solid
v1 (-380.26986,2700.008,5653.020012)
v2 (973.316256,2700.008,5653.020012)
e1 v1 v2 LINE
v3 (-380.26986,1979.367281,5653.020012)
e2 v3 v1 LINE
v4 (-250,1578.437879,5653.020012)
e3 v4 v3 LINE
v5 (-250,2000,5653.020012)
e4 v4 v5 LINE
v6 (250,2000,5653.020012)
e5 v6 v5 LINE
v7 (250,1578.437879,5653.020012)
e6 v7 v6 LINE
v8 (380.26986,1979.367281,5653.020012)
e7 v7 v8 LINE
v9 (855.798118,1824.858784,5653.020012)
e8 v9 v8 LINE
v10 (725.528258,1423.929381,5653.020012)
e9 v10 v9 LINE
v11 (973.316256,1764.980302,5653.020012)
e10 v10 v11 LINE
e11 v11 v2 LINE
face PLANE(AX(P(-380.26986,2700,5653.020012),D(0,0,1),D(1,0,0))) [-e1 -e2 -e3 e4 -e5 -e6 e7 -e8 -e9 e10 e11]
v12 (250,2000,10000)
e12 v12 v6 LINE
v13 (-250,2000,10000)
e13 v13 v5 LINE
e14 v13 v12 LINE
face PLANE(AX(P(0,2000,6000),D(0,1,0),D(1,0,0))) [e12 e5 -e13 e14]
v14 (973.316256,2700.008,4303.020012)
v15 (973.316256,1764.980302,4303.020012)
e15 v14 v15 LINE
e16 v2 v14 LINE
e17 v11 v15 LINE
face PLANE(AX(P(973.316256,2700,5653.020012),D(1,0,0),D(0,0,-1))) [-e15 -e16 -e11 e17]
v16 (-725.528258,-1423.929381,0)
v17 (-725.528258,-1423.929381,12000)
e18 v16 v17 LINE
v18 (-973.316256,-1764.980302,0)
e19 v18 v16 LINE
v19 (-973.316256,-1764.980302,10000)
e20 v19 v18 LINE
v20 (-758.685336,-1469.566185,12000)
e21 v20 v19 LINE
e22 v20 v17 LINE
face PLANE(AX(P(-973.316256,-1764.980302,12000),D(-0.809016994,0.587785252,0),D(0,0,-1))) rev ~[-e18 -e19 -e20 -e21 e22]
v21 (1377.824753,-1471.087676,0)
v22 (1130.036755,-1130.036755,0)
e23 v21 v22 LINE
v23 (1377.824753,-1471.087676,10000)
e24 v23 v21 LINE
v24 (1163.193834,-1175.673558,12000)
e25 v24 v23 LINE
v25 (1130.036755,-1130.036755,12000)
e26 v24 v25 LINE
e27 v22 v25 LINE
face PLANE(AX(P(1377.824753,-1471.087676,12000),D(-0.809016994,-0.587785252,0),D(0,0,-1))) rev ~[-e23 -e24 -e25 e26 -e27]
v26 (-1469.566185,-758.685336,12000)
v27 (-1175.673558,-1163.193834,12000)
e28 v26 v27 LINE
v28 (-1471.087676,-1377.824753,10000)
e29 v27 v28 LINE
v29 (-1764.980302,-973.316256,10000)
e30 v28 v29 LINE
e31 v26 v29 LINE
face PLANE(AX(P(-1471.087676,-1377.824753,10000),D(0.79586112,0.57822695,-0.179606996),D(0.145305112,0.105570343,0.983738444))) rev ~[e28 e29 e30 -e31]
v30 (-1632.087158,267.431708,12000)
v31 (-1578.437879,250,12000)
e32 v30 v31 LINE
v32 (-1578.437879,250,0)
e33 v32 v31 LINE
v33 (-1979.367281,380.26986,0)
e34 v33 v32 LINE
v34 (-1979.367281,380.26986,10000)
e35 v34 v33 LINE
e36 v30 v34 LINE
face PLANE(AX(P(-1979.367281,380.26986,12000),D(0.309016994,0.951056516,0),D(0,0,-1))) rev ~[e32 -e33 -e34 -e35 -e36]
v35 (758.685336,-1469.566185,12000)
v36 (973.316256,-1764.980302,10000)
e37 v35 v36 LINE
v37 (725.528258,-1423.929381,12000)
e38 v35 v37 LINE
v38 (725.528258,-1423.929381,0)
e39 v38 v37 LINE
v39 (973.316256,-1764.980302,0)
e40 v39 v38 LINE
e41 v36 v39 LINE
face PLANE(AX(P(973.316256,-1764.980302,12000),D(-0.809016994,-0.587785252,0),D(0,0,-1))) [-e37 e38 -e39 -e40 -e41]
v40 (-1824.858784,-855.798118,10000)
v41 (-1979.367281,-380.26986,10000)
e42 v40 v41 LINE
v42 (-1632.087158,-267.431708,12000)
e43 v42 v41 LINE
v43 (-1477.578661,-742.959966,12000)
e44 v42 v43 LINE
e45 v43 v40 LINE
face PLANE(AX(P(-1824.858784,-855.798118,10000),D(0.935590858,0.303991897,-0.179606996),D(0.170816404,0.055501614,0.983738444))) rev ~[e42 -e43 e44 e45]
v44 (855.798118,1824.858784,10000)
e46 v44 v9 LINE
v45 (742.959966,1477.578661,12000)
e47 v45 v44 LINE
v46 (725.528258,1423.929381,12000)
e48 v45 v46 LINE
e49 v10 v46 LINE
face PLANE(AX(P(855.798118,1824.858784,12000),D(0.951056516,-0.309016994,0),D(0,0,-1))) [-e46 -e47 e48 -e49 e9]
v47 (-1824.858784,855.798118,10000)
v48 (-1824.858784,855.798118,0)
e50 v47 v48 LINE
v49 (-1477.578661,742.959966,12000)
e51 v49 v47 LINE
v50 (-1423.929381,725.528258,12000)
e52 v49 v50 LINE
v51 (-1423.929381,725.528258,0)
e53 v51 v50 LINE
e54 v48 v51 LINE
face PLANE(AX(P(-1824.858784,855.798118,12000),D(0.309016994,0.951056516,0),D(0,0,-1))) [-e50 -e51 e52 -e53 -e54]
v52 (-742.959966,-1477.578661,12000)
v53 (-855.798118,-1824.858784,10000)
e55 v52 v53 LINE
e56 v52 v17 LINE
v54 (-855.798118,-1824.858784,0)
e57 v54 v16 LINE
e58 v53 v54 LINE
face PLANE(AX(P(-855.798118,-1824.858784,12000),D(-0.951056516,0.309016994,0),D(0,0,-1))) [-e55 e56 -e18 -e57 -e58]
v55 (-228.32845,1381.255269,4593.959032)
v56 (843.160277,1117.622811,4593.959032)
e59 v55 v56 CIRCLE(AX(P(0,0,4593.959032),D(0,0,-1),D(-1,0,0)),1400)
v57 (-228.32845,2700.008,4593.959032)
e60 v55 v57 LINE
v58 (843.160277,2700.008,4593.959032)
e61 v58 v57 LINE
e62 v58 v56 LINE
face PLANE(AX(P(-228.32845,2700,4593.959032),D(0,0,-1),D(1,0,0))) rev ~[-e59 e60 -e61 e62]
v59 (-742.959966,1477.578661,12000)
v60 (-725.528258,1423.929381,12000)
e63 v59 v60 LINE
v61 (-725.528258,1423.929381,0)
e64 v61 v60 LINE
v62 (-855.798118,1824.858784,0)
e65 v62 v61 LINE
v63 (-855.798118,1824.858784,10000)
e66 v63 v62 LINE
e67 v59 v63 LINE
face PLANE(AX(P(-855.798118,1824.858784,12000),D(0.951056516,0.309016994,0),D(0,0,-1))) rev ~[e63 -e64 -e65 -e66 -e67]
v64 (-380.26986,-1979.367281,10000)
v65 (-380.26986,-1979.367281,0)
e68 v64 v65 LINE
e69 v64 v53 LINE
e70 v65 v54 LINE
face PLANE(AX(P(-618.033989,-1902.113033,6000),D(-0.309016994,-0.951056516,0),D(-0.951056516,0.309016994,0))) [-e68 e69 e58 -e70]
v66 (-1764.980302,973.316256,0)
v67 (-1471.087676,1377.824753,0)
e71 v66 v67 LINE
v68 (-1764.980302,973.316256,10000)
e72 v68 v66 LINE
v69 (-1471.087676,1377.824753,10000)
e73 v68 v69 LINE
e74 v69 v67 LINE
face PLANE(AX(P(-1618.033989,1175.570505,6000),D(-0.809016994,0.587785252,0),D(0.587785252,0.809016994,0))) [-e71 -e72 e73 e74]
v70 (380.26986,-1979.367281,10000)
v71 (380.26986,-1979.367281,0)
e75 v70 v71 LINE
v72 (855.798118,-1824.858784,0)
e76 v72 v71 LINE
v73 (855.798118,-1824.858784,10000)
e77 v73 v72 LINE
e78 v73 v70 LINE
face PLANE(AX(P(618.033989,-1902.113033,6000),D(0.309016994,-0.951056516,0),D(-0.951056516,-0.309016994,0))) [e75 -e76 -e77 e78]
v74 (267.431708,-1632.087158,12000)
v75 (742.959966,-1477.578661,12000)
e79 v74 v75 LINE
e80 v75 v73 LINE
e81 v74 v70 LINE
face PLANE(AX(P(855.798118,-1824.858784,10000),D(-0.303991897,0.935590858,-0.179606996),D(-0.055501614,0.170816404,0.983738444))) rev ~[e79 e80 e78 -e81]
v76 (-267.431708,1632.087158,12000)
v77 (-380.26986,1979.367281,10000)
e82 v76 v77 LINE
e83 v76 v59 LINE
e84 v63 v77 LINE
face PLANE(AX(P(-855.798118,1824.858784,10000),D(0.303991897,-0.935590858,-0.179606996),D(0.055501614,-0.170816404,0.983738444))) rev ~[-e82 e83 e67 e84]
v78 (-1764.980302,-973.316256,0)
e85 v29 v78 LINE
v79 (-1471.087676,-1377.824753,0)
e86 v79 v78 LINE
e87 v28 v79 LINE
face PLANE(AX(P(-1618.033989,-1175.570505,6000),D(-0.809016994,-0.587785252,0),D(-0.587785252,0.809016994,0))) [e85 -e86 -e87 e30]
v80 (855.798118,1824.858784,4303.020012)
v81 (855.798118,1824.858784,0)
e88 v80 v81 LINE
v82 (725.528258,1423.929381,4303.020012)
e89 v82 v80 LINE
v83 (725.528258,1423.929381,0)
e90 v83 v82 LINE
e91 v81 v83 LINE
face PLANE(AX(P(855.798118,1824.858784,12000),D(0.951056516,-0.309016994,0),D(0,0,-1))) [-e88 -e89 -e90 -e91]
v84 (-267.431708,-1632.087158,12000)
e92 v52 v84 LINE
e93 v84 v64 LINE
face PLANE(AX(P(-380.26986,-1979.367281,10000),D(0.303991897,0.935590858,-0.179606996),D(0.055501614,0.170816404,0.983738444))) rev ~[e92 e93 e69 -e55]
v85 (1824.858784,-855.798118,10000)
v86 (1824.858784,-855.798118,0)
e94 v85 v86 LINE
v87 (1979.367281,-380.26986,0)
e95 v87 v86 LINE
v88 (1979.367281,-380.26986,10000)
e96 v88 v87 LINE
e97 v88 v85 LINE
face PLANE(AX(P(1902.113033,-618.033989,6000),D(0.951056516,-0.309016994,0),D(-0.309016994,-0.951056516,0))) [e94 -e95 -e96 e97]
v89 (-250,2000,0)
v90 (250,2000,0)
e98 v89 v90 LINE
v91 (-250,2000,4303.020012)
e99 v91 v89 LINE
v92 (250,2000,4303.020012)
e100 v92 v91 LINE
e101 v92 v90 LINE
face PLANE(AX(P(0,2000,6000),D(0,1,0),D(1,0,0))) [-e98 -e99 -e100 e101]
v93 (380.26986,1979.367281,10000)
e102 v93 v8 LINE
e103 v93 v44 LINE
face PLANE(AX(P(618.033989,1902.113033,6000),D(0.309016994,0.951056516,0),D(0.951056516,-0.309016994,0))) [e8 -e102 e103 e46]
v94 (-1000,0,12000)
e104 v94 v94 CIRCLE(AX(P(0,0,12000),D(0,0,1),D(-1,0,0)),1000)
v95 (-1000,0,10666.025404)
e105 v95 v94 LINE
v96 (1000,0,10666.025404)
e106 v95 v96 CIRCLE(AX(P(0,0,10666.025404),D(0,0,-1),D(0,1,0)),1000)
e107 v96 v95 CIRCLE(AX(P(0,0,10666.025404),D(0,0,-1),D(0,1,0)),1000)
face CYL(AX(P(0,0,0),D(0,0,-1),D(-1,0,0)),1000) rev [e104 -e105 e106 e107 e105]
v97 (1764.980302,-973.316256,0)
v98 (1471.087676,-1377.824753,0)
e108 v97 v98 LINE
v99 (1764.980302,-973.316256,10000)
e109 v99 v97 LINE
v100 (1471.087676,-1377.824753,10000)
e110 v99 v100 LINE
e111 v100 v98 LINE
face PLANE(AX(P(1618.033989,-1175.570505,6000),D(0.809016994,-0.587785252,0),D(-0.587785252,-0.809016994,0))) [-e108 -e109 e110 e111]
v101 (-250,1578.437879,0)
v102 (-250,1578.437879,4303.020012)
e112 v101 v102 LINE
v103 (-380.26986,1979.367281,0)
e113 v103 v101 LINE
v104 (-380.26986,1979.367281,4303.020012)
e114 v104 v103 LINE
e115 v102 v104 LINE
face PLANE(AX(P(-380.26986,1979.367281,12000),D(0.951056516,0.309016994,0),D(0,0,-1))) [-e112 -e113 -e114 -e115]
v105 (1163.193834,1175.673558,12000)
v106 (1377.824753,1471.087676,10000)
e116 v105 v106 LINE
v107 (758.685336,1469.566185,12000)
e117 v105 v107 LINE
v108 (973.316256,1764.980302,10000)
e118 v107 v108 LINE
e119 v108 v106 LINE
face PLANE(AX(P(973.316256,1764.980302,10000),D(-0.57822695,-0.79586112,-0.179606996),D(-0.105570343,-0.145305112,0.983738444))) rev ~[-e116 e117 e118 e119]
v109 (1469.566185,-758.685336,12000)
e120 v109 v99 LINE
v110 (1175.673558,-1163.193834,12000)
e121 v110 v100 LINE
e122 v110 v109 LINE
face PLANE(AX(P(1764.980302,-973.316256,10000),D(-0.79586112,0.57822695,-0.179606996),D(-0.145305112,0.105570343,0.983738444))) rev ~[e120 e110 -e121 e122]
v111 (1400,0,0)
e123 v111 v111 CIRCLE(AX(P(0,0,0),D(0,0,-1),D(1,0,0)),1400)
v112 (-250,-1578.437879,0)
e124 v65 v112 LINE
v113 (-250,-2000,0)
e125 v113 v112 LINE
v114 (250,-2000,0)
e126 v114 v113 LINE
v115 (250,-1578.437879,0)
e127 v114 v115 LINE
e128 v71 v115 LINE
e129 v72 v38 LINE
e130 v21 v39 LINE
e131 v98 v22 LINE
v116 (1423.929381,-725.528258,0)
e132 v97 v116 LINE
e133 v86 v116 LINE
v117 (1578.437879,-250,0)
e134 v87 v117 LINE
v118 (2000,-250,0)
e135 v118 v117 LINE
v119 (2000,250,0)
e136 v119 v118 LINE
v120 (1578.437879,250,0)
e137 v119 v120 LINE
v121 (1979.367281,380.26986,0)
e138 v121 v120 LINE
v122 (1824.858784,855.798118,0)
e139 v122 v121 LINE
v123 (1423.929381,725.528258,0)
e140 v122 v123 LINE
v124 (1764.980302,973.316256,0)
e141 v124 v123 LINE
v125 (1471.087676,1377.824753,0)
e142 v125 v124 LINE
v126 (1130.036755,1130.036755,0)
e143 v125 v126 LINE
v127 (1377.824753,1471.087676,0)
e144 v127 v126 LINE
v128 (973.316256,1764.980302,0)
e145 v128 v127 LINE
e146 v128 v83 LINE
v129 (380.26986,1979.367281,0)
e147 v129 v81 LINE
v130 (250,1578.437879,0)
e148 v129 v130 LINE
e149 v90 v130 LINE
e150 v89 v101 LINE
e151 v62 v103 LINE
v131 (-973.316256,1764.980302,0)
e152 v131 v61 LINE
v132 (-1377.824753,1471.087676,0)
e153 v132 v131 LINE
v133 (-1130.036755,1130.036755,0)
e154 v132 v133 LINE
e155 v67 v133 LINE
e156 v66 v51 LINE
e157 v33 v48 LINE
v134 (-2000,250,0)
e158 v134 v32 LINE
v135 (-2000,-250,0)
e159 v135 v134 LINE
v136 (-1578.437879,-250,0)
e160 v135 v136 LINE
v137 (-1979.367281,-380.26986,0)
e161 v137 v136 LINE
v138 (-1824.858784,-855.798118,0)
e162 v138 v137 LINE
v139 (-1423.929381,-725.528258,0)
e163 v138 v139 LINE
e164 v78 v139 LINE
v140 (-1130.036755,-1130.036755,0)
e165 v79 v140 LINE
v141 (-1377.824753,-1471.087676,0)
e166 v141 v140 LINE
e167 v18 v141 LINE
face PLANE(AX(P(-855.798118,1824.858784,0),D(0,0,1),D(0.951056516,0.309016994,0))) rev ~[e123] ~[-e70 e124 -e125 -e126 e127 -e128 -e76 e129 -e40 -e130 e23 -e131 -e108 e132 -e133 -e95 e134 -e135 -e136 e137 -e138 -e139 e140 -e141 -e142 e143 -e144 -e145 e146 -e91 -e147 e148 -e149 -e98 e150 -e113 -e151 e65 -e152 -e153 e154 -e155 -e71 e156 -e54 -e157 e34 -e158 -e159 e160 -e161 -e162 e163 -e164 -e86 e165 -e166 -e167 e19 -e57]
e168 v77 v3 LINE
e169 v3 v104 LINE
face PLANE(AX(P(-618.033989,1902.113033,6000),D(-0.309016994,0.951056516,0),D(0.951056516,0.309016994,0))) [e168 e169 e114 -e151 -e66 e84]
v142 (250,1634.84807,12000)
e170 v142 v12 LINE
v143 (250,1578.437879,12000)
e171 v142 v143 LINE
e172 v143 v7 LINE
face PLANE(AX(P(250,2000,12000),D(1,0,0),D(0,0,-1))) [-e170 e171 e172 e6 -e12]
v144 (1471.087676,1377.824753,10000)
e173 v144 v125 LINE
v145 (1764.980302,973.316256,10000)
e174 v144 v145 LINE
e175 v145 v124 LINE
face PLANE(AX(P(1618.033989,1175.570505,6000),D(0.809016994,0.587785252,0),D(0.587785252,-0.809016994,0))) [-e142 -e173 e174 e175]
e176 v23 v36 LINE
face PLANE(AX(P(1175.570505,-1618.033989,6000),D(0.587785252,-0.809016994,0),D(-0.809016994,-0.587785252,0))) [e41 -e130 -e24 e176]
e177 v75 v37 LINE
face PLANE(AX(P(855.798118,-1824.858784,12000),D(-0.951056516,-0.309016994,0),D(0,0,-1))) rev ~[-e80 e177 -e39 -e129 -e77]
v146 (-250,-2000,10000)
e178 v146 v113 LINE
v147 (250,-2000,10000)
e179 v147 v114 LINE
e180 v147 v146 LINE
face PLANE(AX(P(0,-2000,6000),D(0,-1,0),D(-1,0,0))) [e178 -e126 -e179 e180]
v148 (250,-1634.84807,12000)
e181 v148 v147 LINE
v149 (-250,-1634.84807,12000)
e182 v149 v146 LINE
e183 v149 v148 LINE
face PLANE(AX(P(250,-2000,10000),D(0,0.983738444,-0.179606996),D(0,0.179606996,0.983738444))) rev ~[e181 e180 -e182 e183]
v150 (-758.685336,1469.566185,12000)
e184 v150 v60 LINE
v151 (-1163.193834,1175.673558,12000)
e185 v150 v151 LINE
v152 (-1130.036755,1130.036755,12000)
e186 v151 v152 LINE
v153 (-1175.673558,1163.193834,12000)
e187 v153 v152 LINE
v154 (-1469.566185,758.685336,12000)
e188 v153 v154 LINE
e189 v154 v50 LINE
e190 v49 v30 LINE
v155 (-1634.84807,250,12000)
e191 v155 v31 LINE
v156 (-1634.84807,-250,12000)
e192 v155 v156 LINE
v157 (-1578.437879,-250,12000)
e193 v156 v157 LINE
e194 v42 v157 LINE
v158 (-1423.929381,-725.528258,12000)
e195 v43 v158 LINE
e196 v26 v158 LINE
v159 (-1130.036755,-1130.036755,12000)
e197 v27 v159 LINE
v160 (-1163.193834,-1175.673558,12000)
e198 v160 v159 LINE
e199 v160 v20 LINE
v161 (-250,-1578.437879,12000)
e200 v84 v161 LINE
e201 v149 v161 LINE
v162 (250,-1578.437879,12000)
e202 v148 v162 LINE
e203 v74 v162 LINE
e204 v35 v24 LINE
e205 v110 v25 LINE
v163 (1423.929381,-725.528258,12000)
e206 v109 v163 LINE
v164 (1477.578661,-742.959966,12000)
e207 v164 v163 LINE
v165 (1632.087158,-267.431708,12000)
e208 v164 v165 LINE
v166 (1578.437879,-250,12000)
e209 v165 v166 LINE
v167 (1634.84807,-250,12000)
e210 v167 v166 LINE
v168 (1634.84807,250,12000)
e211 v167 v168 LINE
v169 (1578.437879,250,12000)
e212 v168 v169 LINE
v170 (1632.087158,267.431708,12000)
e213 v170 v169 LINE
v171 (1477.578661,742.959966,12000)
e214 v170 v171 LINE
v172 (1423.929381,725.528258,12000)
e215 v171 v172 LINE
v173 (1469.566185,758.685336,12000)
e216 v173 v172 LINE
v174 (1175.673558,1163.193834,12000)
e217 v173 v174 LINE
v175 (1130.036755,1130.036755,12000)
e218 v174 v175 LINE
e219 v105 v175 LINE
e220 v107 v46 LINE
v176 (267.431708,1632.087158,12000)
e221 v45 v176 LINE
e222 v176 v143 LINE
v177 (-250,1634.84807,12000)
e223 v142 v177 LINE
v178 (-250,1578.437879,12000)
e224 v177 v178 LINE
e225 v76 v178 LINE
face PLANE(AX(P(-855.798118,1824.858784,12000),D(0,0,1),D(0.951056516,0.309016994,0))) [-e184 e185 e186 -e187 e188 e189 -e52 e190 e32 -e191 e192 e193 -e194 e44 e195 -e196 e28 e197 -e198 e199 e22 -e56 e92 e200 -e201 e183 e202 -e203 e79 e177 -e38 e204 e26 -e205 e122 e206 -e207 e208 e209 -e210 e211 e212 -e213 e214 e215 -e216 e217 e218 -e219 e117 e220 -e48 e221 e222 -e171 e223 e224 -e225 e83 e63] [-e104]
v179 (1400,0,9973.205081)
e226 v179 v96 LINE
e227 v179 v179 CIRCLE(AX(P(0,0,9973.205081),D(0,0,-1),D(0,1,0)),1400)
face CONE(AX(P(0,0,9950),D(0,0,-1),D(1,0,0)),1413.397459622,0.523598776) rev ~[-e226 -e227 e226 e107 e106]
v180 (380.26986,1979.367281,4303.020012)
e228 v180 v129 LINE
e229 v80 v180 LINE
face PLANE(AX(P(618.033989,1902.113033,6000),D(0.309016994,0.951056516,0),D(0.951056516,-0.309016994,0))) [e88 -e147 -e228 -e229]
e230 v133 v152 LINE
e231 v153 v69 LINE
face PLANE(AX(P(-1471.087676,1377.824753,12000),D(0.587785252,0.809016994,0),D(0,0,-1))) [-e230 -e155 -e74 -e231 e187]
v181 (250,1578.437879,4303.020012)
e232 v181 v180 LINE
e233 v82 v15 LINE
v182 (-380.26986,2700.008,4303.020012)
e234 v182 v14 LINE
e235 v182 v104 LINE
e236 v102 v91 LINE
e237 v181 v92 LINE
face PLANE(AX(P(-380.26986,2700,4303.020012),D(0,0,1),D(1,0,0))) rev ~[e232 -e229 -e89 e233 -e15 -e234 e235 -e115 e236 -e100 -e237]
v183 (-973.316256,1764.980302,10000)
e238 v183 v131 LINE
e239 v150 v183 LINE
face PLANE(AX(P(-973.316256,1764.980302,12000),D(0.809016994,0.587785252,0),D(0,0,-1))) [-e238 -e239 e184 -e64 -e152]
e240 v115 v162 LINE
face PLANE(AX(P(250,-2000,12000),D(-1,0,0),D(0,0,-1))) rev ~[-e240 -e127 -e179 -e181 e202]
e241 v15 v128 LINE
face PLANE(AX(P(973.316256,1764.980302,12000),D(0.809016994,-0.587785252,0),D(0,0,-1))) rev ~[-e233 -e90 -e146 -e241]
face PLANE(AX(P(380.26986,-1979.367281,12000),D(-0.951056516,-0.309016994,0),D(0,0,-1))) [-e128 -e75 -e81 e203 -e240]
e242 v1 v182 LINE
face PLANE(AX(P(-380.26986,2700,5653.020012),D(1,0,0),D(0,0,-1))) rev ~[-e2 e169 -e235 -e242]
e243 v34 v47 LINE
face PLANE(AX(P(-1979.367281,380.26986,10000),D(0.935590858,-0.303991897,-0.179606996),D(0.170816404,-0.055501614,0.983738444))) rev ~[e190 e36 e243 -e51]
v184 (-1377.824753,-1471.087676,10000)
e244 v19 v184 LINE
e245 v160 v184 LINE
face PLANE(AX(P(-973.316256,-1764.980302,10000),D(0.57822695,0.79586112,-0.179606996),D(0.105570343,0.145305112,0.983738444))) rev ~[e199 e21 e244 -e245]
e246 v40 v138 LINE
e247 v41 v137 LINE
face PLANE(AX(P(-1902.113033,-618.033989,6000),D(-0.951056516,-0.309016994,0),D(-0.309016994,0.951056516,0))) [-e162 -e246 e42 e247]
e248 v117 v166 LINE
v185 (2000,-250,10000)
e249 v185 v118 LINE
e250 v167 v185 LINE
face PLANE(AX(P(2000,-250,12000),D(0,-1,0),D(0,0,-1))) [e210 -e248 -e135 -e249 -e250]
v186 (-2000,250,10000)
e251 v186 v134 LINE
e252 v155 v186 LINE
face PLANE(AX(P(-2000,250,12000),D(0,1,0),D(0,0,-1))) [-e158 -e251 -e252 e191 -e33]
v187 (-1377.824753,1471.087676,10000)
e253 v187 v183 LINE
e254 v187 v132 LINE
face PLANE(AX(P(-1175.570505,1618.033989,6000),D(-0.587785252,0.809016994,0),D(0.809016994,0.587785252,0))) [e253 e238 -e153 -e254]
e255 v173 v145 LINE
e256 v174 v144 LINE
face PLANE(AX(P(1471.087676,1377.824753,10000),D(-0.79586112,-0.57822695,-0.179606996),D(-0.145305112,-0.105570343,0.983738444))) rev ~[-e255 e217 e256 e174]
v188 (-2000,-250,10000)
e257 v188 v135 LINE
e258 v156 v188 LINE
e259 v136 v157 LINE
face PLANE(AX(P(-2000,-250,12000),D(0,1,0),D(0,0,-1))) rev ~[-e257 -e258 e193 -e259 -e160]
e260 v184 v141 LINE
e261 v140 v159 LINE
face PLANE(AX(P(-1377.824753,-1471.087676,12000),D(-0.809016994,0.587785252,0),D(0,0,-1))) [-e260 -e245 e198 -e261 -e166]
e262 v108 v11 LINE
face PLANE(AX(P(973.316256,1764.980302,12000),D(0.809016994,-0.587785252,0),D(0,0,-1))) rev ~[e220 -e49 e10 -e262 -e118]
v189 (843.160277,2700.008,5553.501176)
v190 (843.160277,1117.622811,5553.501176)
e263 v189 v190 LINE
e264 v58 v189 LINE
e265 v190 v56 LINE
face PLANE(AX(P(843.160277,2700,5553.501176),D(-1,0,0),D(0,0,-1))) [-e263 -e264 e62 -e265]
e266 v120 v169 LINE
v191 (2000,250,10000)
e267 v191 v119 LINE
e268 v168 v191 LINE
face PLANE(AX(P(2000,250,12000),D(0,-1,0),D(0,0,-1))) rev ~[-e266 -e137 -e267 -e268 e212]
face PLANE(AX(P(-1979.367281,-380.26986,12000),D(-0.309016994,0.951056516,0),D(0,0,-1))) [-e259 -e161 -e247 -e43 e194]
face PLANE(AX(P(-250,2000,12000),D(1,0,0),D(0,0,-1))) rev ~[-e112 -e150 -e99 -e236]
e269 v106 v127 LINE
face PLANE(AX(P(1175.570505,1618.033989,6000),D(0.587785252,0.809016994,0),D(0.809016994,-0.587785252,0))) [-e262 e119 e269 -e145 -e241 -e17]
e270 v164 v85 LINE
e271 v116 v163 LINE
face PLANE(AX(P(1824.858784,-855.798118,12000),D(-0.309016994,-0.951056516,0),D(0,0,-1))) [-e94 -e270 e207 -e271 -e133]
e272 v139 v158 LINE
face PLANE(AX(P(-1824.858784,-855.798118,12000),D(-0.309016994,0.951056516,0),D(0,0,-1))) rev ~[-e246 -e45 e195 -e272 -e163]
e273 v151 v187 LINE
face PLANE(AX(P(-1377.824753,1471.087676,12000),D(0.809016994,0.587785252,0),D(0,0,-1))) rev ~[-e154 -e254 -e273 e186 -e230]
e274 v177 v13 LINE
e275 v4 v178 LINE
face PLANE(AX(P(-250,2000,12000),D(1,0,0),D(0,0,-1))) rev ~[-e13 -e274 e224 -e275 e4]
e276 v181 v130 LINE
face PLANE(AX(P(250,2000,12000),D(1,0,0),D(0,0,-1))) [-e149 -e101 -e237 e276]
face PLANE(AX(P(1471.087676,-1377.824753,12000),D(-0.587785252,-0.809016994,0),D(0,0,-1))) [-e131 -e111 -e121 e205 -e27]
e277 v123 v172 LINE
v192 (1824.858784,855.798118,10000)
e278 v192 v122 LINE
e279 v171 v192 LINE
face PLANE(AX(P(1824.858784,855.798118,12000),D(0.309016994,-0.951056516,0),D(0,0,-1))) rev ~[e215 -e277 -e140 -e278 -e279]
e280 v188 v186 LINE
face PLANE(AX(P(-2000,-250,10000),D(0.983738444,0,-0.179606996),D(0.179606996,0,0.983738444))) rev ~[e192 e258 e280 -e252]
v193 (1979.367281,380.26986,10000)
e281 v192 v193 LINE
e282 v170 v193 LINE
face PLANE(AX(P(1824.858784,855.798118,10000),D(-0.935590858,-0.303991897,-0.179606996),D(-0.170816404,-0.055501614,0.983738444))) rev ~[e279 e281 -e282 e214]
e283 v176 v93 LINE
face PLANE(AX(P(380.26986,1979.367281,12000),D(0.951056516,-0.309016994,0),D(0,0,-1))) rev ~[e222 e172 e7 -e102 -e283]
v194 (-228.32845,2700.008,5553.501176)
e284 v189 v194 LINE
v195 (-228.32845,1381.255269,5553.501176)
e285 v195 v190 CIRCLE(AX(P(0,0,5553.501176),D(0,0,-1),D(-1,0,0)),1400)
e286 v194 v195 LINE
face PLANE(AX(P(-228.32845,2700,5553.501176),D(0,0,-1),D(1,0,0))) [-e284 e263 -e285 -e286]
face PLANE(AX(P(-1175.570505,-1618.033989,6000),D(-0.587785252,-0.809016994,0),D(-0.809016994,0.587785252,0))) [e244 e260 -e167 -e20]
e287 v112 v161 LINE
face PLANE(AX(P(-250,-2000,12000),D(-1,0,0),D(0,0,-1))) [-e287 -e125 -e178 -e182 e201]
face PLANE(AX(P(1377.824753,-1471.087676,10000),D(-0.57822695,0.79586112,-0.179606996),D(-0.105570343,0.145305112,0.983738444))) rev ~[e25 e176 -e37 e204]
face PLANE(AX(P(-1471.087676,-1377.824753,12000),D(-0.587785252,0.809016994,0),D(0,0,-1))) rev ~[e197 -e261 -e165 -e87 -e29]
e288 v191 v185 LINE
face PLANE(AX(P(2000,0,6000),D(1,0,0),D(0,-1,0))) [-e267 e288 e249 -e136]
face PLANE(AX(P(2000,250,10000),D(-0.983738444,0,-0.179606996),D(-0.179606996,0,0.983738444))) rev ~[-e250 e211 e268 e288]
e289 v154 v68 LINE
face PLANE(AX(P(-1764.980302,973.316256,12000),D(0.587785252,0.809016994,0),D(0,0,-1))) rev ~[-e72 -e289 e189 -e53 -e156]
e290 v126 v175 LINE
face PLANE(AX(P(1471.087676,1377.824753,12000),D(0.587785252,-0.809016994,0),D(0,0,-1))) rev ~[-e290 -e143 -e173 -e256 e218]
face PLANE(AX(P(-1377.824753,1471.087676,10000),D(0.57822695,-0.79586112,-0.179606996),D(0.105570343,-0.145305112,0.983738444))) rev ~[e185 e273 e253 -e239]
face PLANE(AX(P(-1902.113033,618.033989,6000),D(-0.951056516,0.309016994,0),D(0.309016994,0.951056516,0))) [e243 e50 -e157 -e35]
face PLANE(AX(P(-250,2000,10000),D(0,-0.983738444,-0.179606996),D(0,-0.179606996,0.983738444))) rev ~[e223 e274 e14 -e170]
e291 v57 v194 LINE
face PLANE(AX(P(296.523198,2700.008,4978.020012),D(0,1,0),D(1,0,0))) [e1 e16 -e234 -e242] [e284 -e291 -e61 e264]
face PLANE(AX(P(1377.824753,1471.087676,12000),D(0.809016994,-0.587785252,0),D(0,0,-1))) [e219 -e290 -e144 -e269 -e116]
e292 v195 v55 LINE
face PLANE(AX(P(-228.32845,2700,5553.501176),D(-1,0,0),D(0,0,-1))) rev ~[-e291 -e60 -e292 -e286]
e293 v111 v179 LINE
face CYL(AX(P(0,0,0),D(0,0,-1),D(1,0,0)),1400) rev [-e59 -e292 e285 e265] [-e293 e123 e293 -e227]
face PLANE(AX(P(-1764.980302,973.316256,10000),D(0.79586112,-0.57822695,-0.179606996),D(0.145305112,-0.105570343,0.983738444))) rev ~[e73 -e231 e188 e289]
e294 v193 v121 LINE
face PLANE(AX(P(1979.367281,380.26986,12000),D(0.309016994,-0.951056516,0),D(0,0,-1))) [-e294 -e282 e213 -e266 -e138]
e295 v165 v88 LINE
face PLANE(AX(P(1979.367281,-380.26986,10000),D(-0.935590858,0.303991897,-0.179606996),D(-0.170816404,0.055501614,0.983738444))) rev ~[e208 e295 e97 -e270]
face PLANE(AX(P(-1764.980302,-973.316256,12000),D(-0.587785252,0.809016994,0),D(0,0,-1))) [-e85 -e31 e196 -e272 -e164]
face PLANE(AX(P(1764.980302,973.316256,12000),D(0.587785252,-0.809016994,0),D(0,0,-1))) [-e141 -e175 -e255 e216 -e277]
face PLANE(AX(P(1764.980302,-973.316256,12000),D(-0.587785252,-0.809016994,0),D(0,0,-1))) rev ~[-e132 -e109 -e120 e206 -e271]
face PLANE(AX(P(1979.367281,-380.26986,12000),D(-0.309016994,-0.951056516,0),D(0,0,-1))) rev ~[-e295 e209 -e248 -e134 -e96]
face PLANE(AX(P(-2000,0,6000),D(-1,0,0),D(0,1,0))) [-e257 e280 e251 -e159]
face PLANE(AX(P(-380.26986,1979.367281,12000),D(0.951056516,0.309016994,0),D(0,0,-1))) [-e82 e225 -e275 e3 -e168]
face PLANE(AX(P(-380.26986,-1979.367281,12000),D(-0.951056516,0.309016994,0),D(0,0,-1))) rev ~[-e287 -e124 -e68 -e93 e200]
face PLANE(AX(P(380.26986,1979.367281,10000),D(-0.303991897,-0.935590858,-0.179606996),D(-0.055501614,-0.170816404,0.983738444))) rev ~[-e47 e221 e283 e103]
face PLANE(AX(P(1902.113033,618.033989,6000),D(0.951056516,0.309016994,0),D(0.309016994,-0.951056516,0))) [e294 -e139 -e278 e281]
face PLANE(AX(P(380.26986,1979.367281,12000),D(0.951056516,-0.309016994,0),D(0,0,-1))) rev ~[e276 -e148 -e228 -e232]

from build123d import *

# Parameters (mm, degrees)
SKETCH1_R                       = 1500
BOSS_EXTRUDE1_DEPTH             = 12000
CHAMFER1_SIZE                   = 2000
CHAMFER1_SIZE2                  = 1154.700538379
SHELL1_T                        = -100
BOSS_EXTRUDE4_REACH             = 12591.678
SKETCH4_W                       = 500
SKETCH4_H                       = 12000
CUT_EXTRUDE1_DEPTH              = 12291.748553282
CIRPATTERN2_COUNT               = 20
SKETCH12_R                      = 1000
CUT_EXTRUDE3_DEPTH              = 12000
SKETCH14_W                      = 1353.586115667
SKETCH14_H                      = 1350
BOSS_EXTRUDE5_DEPTH             = 0.008
BOSS_EXTRUDE5_DIRECTION_2_REACH = 13043.856
CUT_EXTRUDE5_REACH              = 13043.856
CUT_EXTRUDE5_END_RADIUS         = 1400
SKETCH16_W                      = 1071.488727216
SKETCH16_H                      = 959.542143775
CUT_EXTRUDE5_DIRECTION_2_DEPTH  = 13042.855696181


with BuildPart() as part:
    # Sketch1 → Boss-Extrude1 (new body)
    with BuildSketch(Plane.XY):
        Circle(SKETCH1_R)
    extrude(amount=BOSS_EXTRUDE1_DEPTH)

    # Chamfer1
    chamfer1_edges = [part.edges().sort_by_distance(p)[0] for p in [
        (-1500, 0, 12000),
    ]]
    chamfer1_side = [part.faces().sort_by_distance(p)[0] for p in [
        (-1500, 0, 6000),
    ]]
    chamfer(chamfer1_edges, length=CHAMFER1_SIZE, length2=CHAMFER1_SIZE2, reference=chamfer1_side[0])

    # Shell1
    shell1_openings = [part.faces().sort_by_distance(p)[0] for p in [
        (0, 0, 0),
    ]]
    offset(amount=SHELL1_T, openings=shell1_openings, kind=Kind.INTERSECTION)

    # Sketch4 → Boss-Extrude4 (add, up to next)
    with BuildSketch(Plane(origin=(0, 2000, 0), x_dir=(1, 0, 0), z_dir=(0, 1, 0)), mode=Mode.PRIVATE) as boss_extrude4_sk1:
        with Locations((0, -6000)):
            Rectangle(SKETCH4_W, SKETCH4_H)
    boss_extrude4_tool1 = extrude(boss_extrude4_sk1.sketch, amount=-BOSS_EXTRUDE4_REACH, mode=Mode.PRIVATE) - part.part
    boss_extrude4 = boss_extrude4_tool1.solids().sort_by_distance((0, 2000, 6000))[0]
    add(boss_extrude4)

    # Sketch6 → Cut-Extrude1 (cut, symmetric)
    with BuildSketch(Plane.ZY.offset(250)):
        Polygon((10000, 2000), (12000, 1634.848069607), (12000, 2000), align=None)
    cut_extrude1 = extrude(amount=CUT_EXTRUDE1_DEPTH, both=True, mode=Mode.SUBTRACT)

    # CirPattern2: Boss-Extrude4, Cut-Extrude1 ×20 about axis
    cirpattern2_axis = Axis((0, 0, 0), (0, 0, 1))
    add([boss_extrude4.rotate(cirpattern2_axis, i * 360 / CIRPATTERN2_COUNT) for i in range(1, CIRPATTERN2_COUNT)])
    add([cut_extrude1.rotate(cirpattern2_axis, i * 360 / CIRPATTERN2_COUNT) for i in range(1, CIRPATTERN2_COUNT)], mode=Mode.SUBTRACT)

    # Sketch12 → Cut-Extrude3 (cut)
    with BuildSketch(Plane.XY):
        with Locations(Location((0, 0, 0), (0, 0, 180))):
            Circle(SKETCH12_R)
    extrude(amount=CUT_EXTRUDE3_DEPTH, mode=Mode.SUBTRACT)

    # Sketch14 → Boss-Extrude5 (add)
    with BuildSketch(Plane(origin=(0, 2700, 0), x_dir=(1, 0, 0), z_dir=(0, 1, 0))):
        with Locations((296.523198158, -4978.020012277)):
            Rectangle(SKETCH14_W, SKETCH14_H)
    extrude(amount=BOSS_EXTRUDE5_DEPTH)

    # Sketch14 → Boss-Extrude5 direction 2 (add, up to next)
    with BuildSketch(Plane(origin=(0, 2700, 0), x_dir=(1, 0, 0), z_dir=(0, 1, 0)), mode=Mode.PRIVATE) as boss_extrude5_direction_2_sk1:
        with Locations((296.523198158, -4978.020012277)):
            Rectangle(SKETCH14_W, SKETCH14_H)
    boss_extrude5_direction_2_tool1 = extrude(boss_extrude5_direction_2_sk1.sketch, amount=-BOSS_EXTRUDE5_DIRECTION_2_REACH, mode=Mode.PRIVATE) - part.part
    add(boss_extrude5_direction_2_tool1.solids().sort_by_distance((296.523198, 2700, 4978.020012))[0])

    # Cut-Extrude5: up to this cylinder (the profile starts outside it)
    cut_extrude5_end = Plane(origin=(0, 0, 5073.730104), z_dir=(0, 0, -1)) * Cylinder(CUT_EXTRUDE5_END_RADIUS, 28888.712, mode=Mode.PRIVATE)
    # Sketch16 → Cut-Extrude5 (cut, up to the surface)
    with BuildSketch(Plane(origin=(0, 2700, 0), x_dir=(1, 0, 0), z_dir=(0, 1, 0)), mode=Mode.PRIVATE) as cut_extrude5_sk1:
        with Locations((307.415913762, -5073.730104283)):
            Rectangle(SKETCH16_W, SKETCH16_H)
    cut_extrude5_tool1 = extrude(cut_extrude5_sk1.sketch, amount=-CUT_EXTRUDE5_REACH, mode=Mode.PRIVATE) - cut_extrude5_end
    add(cut_extrude5_tool1.solids().sort_by_distance((307.415914, 2700, 5073.730104))[0], mode=Mode.SUBTRACT)

    # Sketch16 → Cut-Extrude5 direction 2 (cut)
    with BuildSketch(Plane(origin=(0, 2700, 0), x_dir=(1, 0, 0), z_dir=(0, 1, 0))):
        with Locations((307.415913762, -5073.730104283)):
            Rectangle(SKETCH16_W, SKETCH16_H)
    extrude(amount=CUT_EXTRUDE5_DIRECTION_2_DEPTH, mode=Mode.SUBTRACT)


solid = part.part
